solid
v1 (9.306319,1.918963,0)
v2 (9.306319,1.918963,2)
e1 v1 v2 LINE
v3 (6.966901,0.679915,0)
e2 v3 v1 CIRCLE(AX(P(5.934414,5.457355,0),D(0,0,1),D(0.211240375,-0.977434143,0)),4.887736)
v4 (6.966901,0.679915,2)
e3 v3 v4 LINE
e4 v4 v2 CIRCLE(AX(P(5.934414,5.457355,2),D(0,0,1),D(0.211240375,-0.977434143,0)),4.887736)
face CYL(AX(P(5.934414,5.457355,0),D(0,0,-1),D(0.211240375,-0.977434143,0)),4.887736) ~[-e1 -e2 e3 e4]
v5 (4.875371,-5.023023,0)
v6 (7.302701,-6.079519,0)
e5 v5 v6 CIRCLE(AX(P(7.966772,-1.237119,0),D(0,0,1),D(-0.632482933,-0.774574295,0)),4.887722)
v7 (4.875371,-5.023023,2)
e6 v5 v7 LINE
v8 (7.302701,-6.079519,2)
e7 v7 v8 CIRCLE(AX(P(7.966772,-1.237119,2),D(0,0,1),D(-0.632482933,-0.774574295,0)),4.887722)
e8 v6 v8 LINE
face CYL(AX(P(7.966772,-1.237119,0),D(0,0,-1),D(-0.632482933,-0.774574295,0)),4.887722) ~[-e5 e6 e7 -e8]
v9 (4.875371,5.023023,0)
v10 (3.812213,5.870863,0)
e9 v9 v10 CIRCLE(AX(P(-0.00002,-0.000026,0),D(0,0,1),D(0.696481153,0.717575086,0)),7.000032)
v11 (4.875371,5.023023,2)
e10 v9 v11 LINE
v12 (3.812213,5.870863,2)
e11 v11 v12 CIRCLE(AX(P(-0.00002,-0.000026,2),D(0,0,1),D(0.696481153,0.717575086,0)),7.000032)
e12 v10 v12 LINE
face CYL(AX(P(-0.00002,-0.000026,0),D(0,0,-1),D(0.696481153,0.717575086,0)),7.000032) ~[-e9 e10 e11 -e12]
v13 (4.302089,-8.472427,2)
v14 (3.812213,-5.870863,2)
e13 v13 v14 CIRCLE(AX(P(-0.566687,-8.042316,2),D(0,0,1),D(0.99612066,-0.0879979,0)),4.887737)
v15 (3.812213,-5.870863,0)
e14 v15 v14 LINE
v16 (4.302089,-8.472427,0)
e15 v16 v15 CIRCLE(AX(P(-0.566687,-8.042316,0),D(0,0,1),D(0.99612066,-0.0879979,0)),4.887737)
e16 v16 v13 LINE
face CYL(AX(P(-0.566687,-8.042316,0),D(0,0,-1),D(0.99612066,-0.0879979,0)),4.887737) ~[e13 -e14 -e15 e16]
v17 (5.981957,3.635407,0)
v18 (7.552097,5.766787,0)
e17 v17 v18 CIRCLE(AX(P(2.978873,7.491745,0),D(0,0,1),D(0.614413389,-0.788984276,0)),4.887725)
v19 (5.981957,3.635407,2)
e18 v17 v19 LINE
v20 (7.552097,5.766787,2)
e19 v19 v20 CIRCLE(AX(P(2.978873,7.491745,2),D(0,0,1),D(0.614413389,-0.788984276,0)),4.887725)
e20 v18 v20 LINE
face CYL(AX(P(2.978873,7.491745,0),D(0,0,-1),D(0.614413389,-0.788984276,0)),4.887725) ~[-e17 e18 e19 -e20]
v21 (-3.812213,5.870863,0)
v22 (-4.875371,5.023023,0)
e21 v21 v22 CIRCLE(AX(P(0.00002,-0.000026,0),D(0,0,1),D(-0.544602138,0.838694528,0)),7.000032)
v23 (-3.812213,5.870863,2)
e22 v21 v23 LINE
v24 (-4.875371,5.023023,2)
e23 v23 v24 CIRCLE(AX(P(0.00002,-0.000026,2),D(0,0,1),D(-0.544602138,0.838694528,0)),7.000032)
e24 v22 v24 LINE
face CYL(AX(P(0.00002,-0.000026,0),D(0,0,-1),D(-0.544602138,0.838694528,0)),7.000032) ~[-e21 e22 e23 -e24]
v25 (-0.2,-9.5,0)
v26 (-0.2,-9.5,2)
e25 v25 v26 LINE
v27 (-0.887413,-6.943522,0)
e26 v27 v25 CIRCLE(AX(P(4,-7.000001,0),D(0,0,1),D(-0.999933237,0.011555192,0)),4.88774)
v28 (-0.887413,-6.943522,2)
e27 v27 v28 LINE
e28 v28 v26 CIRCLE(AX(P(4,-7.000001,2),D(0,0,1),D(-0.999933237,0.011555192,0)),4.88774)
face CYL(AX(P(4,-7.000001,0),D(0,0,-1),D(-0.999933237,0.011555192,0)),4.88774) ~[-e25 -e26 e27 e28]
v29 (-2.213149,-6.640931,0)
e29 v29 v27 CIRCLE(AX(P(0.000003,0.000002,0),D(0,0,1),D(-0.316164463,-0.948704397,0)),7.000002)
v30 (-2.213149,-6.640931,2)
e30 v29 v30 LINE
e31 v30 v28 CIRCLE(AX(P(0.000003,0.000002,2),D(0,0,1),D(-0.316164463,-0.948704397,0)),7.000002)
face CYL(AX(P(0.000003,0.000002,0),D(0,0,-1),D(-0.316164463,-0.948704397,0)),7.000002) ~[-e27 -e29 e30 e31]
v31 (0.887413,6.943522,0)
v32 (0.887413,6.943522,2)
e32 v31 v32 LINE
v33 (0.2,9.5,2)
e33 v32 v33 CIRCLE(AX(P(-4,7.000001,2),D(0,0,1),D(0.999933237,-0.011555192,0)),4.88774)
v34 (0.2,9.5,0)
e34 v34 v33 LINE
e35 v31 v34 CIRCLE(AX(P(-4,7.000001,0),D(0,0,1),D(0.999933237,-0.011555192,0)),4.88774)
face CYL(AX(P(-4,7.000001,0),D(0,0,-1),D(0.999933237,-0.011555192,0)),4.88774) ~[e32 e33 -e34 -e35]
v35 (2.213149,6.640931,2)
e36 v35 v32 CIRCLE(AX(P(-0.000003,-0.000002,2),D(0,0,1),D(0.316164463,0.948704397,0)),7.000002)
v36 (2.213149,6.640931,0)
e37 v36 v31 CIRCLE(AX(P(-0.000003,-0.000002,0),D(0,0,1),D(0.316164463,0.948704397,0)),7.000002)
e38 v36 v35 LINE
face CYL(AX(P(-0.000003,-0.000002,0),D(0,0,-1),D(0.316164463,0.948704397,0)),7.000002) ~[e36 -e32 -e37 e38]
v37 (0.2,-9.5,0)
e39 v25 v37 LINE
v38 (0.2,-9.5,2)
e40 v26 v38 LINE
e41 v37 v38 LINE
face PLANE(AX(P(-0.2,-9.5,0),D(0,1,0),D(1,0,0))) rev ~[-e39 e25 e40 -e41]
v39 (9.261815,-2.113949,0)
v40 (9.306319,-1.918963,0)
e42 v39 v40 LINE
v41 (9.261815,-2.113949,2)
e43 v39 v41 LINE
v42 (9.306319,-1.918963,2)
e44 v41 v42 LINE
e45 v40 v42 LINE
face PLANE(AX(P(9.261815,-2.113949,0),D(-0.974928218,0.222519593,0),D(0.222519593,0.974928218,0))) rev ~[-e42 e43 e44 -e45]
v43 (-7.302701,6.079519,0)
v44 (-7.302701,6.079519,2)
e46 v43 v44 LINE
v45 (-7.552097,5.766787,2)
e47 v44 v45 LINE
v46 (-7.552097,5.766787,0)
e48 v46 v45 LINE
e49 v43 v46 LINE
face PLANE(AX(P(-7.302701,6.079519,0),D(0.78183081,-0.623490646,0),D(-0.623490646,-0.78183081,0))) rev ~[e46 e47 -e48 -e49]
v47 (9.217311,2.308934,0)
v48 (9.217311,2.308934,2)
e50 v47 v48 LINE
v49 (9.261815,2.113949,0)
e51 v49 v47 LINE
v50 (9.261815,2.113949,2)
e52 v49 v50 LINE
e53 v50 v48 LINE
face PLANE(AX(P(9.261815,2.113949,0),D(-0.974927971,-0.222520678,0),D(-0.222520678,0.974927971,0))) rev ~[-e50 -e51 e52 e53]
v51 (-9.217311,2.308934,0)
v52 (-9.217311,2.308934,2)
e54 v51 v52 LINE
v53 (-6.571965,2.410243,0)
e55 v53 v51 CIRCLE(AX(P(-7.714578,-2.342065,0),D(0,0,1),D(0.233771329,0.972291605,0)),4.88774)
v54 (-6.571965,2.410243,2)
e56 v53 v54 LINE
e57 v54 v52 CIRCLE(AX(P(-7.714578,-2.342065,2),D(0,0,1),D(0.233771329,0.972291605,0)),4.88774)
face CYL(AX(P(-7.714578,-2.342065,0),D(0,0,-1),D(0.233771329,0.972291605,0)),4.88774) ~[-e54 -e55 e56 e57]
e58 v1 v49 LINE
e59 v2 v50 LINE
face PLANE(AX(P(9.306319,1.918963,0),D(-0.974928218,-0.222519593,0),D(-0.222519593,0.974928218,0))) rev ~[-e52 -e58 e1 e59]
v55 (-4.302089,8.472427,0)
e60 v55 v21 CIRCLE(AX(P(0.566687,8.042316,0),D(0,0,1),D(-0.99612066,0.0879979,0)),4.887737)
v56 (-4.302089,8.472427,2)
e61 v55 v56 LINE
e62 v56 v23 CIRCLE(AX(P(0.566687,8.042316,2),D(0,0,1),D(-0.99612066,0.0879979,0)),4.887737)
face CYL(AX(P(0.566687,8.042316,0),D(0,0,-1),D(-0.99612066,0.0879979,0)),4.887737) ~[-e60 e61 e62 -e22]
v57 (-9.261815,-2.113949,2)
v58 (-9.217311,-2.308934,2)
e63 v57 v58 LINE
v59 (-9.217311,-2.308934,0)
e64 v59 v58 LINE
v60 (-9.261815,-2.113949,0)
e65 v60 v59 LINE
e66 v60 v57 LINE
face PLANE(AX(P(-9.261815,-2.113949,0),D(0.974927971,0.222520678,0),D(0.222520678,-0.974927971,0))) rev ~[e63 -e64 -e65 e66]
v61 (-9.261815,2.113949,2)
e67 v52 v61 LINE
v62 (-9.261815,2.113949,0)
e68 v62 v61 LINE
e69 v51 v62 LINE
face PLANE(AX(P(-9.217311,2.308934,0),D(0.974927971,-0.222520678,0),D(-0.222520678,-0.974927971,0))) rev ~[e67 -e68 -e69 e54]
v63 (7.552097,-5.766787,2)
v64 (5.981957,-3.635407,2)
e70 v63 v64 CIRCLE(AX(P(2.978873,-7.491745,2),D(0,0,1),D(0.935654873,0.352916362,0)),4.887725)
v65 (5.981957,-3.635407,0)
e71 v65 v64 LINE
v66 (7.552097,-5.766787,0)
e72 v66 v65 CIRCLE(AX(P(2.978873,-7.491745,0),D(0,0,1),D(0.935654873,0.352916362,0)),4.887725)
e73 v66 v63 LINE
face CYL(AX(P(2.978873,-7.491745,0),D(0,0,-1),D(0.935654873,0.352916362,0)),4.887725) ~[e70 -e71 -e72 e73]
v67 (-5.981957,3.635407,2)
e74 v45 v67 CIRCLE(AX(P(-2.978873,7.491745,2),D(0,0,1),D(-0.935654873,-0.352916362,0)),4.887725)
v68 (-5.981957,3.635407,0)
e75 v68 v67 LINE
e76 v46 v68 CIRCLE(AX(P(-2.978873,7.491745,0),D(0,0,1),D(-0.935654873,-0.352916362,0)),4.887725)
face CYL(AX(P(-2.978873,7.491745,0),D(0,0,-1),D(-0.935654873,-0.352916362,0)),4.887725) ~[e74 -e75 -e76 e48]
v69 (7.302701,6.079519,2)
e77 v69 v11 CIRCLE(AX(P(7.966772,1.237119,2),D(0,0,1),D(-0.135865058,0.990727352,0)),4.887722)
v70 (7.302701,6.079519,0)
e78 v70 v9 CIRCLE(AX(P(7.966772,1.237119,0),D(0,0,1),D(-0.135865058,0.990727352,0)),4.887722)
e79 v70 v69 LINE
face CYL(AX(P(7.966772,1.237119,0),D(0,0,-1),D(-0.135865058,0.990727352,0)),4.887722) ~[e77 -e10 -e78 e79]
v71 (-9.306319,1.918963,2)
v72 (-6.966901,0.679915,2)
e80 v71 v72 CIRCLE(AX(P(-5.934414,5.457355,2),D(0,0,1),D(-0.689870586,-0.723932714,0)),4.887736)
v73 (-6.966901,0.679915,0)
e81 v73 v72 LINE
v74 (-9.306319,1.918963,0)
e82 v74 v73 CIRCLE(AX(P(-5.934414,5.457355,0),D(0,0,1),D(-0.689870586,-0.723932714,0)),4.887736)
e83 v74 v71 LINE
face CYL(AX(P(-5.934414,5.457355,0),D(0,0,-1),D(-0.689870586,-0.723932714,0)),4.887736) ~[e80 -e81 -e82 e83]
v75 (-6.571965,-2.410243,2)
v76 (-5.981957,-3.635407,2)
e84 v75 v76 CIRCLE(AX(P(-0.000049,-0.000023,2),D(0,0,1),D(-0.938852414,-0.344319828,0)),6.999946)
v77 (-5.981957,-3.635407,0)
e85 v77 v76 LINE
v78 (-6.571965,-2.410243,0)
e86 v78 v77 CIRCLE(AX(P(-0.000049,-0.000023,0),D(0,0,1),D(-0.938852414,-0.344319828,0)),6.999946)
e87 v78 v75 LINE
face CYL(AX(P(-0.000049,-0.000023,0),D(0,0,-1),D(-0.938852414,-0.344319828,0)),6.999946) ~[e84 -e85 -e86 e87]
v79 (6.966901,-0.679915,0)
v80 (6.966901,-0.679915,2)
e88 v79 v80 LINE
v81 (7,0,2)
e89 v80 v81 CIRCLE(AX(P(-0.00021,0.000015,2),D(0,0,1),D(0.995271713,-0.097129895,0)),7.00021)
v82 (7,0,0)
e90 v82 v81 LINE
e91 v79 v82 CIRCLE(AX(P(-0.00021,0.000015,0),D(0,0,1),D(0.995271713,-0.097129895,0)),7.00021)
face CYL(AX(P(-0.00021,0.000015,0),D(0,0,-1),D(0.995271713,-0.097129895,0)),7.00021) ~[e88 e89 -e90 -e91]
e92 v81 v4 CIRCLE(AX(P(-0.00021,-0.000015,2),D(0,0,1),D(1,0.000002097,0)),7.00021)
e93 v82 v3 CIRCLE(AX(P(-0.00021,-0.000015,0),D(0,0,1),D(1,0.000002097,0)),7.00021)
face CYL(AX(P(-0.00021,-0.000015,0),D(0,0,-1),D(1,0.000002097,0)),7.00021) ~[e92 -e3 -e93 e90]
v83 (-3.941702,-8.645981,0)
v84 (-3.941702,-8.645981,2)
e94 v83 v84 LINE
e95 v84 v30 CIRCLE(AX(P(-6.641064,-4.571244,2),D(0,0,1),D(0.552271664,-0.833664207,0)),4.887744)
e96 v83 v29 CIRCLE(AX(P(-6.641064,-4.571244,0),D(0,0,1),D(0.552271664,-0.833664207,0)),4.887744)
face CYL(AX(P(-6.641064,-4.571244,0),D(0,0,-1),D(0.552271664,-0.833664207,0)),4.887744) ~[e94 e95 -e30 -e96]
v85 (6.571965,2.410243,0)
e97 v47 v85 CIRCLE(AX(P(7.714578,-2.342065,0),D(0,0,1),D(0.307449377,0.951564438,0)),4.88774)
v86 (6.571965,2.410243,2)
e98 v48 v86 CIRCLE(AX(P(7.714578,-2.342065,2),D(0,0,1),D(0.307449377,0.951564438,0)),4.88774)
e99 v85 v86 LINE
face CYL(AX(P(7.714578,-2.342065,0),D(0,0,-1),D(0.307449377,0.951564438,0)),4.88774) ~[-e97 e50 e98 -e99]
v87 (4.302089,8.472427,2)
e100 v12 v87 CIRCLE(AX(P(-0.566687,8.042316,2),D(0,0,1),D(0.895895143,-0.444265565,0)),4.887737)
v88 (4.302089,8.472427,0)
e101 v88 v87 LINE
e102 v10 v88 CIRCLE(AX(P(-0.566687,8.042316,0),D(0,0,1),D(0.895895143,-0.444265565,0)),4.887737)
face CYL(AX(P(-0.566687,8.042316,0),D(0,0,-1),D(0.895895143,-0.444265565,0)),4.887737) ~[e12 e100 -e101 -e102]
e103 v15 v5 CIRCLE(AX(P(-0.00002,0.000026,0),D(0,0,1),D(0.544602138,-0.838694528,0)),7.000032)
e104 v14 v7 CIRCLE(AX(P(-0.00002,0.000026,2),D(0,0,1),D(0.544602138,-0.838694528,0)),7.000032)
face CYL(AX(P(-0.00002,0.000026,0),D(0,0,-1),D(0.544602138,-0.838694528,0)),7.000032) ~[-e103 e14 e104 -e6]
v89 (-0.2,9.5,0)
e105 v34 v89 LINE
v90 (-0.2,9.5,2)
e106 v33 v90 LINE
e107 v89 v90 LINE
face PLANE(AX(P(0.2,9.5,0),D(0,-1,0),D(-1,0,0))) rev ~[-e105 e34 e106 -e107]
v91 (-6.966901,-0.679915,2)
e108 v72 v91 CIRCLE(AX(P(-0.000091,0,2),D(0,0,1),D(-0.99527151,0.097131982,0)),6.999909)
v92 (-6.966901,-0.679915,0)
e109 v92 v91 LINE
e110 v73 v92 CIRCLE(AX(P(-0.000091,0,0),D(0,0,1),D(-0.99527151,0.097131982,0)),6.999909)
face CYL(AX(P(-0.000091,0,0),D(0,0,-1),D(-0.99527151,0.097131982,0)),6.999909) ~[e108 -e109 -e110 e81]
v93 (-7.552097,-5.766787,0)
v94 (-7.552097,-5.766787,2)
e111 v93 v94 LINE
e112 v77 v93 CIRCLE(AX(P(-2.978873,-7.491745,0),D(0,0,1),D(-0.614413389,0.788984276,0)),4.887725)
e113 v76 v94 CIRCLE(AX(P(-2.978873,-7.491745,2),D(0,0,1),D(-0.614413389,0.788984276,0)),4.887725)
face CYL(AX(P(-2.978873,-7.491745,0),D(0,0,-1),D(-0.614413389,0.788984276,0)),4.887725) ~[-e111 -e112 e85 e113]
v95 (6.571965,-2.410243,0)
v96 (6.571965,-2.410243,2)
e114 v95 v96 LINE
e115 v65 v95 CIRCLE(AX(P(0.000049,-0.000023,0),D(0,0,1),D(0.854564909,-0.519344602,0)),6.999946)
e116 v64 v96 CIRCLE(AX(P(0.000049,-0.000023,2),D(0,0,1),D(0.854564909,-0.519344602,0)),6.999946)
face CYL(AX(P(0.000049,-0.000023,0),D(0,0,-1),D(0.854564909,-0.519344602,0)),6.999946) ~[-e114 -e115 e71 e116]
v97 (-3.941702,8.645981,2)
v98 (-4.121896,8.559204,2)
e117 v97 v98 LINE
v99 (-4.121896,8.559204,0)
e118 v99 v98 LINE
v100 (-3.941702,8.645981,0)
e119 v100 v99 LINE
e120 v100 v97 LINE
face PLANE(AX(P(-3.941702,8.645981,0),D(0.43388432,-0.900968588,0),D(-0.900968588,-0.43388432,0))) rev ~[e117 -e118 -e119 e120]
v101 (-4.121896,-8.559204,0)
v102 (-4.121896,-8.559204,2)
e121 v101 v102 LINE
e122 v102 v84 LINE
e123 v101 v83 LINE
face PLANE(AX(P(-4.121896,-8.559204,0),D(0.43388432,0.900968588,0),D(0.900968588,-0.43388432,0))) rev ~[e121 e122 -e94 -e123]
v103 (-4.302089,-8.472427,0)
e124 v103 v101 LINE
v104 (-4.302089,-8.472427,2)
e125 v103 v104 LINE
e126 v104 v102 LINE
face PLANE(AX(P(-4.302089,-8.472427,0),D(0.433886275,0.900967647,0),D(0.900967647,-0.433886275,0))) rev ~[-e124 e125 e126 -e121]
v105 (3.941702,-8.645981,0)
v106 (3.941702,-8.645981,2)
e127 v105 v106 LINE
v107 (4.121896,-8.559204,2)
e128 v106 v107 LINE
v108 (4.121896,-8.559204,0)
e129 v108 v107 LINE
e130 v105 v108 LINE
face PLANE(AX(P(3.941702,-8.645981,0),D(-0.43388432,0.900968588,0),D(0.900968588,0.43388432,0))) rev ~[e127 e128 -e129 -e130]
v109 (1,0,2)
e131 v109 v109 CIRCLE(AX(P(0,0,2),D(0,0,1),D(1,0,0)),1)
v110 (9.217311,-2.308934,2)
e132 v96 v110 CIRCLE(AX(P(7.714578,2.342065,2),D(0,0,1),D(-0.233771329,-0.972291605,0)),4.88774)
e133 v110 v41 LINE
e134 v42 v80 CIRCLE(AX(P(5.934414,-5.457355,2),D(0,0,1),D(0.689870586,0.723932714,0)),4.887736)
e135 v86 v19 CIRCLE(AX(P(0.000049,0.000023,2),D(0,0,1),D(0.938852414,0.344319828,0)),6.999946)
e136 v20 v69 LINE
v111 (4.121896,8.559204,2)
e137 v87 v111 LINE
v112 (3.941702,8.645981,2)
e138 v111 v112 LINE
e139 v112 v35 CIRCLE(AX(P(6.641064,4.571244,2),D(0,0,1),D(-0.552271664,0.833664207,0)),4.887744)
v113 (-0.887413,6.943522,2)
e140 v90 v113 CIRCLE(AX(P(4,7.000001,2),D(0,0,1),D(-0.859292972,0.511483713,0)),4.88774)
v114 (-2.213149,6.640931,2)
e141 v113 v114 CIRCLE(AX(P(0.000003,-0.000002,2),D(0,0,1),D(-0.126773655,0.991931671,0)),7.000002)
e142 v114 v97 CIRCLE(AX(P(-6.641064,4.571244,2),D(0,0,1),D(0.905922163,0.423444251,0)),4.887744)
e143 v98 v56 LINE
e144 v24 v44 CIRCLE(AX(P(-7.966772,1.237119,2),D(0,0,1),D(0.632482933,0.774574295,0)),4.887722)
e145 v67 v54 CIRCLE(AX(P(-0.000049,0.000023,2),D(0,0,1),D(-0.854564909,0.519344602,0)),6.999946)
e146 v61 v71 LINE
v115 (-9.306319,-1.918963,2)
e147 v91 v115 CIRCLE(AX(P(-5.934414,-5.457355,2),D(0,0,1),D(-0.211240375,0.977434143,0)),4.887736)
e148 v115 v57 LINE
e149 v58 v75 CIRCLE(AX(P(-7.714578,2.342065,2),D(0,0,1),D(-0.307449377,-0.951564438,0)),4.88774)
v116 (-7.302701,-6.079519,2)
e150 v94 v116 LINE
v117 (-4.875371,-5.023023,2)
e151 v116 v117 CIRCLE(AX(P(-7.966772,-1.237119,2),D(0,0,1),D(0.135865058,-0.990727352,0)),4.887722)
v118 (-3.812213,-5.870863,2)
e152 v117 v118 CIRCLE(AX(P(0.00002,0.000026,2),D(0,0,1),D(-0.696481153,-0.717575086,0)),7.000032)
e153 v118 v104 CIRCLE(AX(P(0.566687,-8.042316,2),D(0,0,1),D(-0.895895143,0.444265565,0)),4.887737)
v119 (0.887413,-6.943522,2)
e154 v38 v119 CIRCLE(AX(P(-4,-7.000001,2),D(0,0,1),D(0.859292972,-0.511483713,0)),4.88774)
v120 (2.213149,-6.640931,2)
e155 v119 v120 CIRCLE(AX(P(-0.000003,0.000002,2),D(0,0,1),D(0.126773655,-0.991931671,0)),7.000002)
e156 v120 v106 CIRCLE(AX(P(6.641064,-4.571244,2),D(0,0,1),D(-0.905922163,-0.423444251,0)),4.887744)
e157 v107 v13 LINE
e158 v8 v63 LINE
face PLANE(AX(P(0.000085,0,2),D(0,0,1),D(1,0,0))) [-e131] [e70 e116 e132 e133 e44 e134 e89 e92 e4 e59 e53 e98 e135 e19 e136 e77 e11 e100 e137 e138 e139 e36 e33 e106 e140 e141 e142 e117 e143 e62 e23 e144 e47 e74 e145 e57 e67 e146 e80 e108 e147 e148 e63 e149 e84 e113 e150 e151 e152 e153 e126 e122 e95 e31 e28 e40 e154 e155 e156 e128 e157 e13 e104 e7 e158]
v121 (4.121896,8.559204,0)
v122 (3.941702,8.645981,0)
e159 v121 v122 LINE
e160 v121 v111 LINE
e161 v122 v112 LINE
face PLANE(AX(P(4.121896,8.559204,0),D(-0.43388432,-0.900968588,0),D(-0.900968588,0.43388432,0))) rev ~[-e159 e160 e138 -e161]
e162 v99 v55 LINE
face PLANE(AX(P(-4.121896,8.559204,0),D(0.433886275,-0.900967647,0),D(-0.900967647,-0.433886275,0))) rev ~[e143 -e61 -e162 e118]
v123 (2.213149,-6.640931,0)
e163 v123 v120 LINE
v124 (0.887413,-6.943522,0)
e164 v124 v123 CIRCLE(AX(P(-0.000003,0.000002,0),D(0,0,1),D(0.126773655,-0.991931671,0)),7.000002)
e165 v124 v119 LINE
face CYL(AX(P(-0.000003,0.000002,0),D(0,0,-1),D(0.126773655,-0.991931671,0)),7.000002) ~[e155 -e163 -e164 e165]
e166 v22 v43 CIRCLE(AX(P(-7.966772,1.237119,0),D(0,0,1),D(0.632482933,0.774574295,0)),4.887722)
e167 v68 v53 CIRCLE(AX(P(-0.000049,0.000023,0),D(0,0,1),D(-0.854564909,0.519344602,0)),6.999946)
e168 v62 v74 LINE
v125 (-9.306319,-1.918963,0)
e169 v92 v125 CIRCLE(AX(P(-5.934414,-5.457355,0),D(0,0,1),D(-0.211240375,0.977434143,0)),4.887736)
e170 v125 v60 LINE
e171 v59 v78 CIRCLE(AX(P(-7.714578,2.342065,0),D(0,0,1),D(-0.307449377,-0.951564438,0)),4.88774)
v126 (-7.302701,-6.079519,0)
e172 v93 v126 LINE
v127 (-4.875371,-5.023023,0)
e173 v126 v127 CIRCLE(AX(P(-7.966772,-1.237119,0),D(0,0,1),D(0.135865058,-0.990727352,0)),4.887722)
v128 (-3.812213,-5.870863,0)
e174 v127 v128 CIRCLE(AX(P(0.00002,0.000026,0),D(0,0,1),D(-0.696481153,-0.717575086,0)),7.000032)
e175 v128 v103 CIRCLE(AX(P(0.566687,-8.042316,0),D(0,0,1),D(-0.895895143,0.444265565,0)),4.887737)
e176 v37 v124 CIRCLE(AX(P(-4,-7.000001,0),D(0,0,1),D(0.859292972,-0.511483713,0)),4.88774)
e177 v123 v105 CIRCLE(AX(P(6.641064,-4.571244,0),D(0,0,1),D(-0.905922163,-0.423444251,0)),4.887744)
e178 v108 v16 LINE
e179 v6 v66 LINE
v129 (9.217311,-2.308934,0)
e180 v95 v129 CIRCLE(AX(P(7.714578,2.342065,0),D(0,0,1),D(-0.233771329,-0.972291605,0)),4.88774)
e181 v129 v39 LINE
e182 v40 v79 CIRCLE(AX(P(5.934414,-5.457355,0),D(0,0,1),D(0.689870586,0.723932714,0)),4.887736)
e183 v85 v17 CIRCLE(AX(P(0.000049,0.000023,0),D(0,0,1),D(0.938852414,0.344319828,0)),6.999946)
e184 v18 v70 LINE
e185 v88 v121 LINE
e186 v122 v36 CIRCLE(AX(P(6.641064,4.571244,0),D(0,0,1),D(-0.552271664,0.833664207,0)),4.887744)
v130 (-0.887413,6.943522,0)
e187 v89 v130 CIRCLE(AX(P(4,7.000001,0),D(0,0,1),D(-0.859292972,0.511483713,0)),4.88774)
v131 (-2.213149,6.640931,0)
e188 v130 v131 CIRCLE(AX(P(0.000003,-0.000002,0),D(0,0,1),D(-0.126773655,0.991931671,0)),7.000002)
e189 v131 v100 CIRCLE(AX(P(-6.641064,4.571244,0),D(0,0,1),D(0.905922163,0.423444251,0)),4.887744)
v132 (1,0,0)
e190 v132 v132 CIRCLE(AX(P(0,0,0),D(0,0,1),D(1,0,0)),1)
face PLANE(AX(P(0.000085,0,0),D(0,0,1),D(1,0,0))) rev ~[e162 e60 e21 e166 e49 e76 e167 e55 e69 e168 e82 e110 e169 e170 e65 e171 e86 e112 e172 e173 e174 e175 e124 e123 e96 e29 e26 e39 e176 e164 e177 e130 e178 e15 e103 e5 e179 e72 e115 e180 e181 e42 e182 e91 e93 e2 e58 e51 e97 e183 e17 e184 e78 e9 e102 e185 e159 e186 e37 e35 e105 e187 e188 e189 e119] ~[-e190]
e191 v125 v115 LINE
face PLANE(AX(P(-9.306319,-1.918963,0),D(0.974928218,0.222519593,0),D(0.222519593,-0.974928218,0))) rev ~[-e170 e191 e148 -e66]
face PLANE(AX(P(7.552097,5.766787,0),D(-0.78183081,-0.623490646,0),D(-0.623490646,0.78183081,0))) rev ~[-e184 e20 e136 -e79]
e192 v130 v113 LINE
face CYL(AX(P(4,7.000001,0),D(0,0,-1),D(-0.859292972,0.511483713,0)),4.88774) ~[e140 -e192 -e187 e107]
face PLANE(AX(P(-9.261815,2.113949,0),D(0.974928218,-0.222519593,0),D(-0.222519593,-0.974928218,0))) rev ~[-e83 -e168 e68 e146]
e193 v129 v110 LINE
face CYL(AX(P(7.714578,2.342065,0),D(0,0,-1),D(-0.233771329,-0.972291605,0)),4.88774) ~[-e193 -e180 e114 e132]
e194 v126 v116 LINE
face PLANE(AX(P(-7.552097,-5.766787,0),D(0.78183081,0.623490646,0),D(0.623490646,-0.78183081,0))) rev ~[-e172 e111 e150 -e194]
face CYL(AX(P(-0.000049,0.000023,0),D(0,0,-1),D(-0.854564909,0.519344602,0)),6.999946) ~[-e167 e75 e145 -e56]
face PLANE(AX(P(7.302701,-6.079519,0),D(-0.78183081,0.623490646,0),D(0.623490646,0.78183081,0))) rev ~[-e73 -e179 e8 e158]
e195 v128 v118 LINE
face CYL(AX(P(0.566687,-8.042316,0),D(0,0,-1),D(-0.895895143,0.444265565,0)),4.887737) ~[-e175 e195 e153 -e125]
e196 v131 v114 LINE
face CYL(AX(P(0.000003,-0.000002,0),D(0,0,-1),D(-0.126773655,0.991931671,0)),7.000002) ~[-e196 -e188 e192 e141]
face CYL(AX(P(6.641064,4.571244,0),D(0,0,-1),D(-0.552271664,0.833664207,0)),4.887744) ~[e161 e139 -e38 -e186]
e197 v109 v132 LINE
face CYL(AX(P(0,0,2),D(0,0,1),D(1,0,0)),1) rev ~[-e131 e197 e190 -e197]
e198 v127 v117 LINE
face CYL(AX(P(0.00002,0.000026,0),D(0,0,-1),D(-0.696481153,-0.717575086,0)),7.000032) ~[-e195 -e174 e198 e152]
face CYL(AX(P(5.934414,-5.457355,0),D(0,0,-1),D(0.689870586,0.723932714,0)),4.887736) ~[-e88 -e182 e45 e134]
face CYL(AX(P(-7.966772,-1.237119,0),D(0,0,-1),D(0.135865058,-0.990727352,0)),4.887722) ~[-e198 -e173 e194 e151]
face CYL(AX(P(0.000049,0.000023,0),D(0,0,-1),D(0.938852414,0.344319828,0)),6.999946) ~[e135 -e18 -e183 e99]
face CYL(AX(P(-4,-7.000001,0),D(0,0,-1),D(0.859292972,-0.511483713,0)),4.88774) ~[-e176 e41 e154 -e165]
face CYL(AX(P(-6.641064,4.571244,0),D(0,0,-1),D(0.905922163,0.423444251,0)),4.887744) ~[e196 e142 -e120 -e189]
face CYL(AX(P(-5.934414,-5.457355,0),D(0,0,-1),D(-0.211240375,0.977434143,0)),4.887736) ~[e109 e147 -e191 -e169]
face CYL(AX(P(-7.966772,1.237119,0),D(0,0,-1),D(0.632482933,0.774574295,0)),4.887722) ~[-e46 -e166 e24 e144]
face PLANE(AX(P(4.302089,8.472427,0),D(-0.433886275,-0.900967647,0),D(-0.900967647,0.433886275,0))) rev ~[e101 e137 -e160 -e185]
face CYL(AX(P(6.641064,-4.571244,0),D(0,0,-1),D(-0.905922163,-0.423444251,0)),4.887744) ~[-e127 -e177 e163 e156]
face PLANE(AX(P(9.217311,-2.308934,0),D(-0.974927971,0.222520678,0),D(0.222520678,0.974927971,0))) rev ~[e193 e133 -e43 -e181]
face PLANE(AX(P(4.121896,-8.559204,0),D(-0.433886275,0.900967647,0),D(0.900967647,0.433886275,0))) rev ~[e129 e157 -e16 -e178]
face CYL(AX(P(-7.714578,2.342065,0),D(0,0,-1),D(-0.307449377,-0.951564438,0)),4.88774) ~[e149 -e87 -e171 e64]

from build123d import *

# Parameters (mm, degrees)
F1_DEPTH = 2
F2_R     = 1
F3_DEPTH = 25


with BuildPart() as f1:
    # F0 (on Top) → F1 (new body)
    with BuildSketch(Plane.XY):
        with BuildLine():
            ThreePointArc((6.966901, -0.679915), (6.99172, -0.34036), (7, 0))
            ThreePointArc((7, 0), (6.99172, 0.34036), (6.966901, 0.679915))
            ThreePointArc((6.966901, 0.679915), (6.824495, 1.557647), (6.571965, 2.410243))
            ThreePointArc((6.571965, 2.410243), (6.306782, 3.037186), (5.981957, 3.635407))
            ThreePointArc((5.981957, 3.635407), (5.47282, 4.364429), (4.875371, 5.023023))
            ThreePointArc((4.875371, 5.023023), (4.364429, 5.47282), (3.812213, 5.870863))
            ThreePointArc((3.812213, 5.870863), (3.037186, 6.306782), (2.213149, 6.640931))
            ThreePointArc((2.213149, 6.640931), (1.557647, 6.824495), (0.887413, 6.943522))
            ThreePointArc((0.887413, 6.943522), (0, 7), (-0.887413, 6.943522))
            ThreePointArc((-0.887413, 6.943522), (-1.557647, 6.824495), (-2.213149, 6.640931))
            ThreePointArc((-2.213149, 6.640931), (-3.037186, 6.306782), (-3.812213, 5.870863))
            ThreePointArc((-3.812213, 5.870863), (-4.364429, 5.47282), (-4.875371, 5.023023))
            ThreePointArc((-4.875371, 5.023023), (-5.47282, 4.364429), (-5.981957, 3.635407))
            ThreePointArc((-5.981957, 3.635407), (-6.306782, 3.037186), (-6.571965, 2.410243))
            ThreePointArc((-6.571965, 2.410243), (-6.824495, 1.557647), (-6.966901, 0.679915))
            ThreePointArc((-6.966901, 0.679915), (-7, 0), (-6.966901, -0.679915))
            ThreePointArc((-6.966901, -0.679915), (-6.824495, -1.557647), (-6.571965, -2.410243))
            ThreePointArc((-6.571965, -2.410243), (-6.306782, -3.037186), (-5.981957, -3.635407))
            ThreePointArc((-5.981957, -3.635407), (-5.47282, -4.364429), (-4.875371, -5.023023))
            ThreePointArc((-4.875371, -5.023023), (-4.364429, -5.47282), (-3.812213, -5.870863))
            ThreePointArc((-3.812213, -5.870863), (-3.037186, -6.306782), (-2.213149, -6.640931))
            ThreePointArc((-2.213149, -6.640931), (-1.557647, -6.824495), (-0.887413, -6.943522))
            ThreePointArc((-0.887413, -6.943522), (0, -7), (0.887413, -6.943522))
            ThreePointArc((0.887413, -6.943522), (1.557647, -6.824495), (2.213149, -6.640931))
            ThreePointArc((2.213149, -6.640931), (3.037186, -6.306782), (3.812213, -5.870863))
            ThreePointArc((3.812213, -5.870863), (4.364429, -5.47282), (4.875371, -5.023023))
            ThreePointArc((4.875371, -5.023023), (5.47282, -4.364429), (5.981957, -3.635407))
            ThreePointArc((5.981957, -3.635407), (6.306782, -3.037186), (6.571965, -2.410243))
            ThreePointArc((6.571965, -2.410243), (6.824495, -1.557647), (6.966901, -0.679915))
        make_face()
        with BuildLine():
            ThreePointArc((6.571965, 2.410243), (6.824495, 1.557647), (6.966901, 0.679915))
            ThreePointArc((6.966901, 0.679915), (8.222094, 1.13804), (9.306319, 1.918963))
            Line((9.306319, 1.918963), (9.261815, 2.113949))
            Line((9.261815, 2.113949), (9.217311, 2.308934))
            ThreePointArc((9.217311, 2.308934), (7.901628, 2.542094), (6.571965, 2.410243))
        make_face()
        with BuildLine():
            ThreePointArc((9.306319, -1.918963), (8.222094, -1.13804), (6.966901, -0.679915))
            ThreePointArc((6.966901, -0.679915), (6.824495, -1.557647), (6.571965, -2.410243))
            ThreePointArc((6.571965, -2.410243), (7.901628, -2.542094), (9.217311, -2.308934))
            Line((9.217311, -2.308934), (9.261815, -2.113949))
            Line((9.261815, -2.113949), (9.306319, -1.918963))
        make_face()
        with BuildLine():
            ThreePointArc((4.875371, 5.023023), (5.47282, 4.364429), (5.981957, 3.635407))
            ThreePointArc((5.981957, 3.635407), (6.914074, 4.592771), (7.552097, 5.766787))
            Line((7.552097, 5.766787), (7.427399, 5.923153))
            Line((7.427399, 5.923153), (7.302701, 6.079519))
            ThreePointArc((7.302701, 6.079519), (6.016147, 5.718736), (4.875371, 5.023023))
        make_face()
        with BuildLine():
            ThreePointArc((7.552097, -5.766787), (6.914074, -4.592771), (5.981957, -3.635407))
            ThreePointArc((5.981957, -3.635407), (5.47282, -4.364429), (4.875371, -5.023023))
            ThreePointArc((4.875371, -5.023023), (6.016147, -5.718736), (7.302701, -6.079519))
            Line((7.302701, -6.079519), (7.427399, -5.923153))
            Line((7.427399, -5.923153), (7.552097, -5.766787))
        make_face()
        with BuildLine():
            ThreePointArc((2.213149, 6.640931), (3.037186, 6.306782), (3.812213, 5.870863))
            ThreePointArc((3.812213, 5.870863), (4.236636, 7.137848), (4.302089, 8.472427))
            Line((4.302089, 8.472427), (4.121896, 8.559204))
            Line((4.121896, 8.559204), (3.941702, 8.645981))
            ThreePointArc((3.941702, 8.645981), (2.939095, 7.762711), (2.213149, 6.640931))
        make_face()
        with BuildLine():
            ThreePointArc((4.302089, -8.472427), (4.236636, -7.137848), (3.812213, -5.870863))
            ThreePointArc((3.812213, -5.870863), (3.037186, -6.306782), (2.213149, -6.640931))
            ThreePointArc((2.213149, -6.640931), (2.939095, -7.762711), (3.941702, -8.645981))
            Line((3.941702, -8.645981), (4.121896, -8.559204))
            Line((4.121896, -8.559204), (4.302089, -8.472427))
        make_face()
        with BuildLine():
            ThreePointArc((-0.887413, 6.943522), (0, 7), (0.887413, 6.943522))
            ThreePointArc((0.887413, 6.943522), (0.720081, 8.269186), (0.2, 9.5))
            Line((0.2, 9.5), (0, 9.5))
            Line((0, 9.5), (-0.2, 9.5))
            ThreePointArc((-0.2, 9.5), (-0.720081, 8.269186), (-0.887413, 6.943522))
        make_face()
        with BuildLine():
            ThreePointArc((0.2, -9.5), (0.720081, -8.269186), (0.887413, -6.943522))
            ThreePointArc((0.887413, -6.943522), (0, -7), (-0.887413, -6.943522))
            ThreePointArc((-0.887413, -6.943522), (-0.720081, -8.269186), (-0.2, -9.5))
            Line((-0.2, -9.5), (0, -9.5))
            Line((0, -9.5), (0.2, -9.5))
        make_face()
        with BuildLine():
            ThreePointArc((-3.812213, 5.870863), (-3.037186, 6.306782), (-2.213149, 6.640931))
            ThreePointArc((-2.213149, 6.640931), (-2.939095, 7.762711), (-3.941702, 8.645981))
            Line((-3.941702, 8.645981), (-4.121896, 8.559204))
            Line((-4.121896, 8.559204), (-4.302089, 8.472427))
            ThreePointArc((-4.302089, 8.472427), (-4.236636, 7.137848), (-3.812213, 5.870863))
        make_face()
        with BuildLine():
            ThreePointArc((-3.941702, -8.645981), (-2.939095, -7.762711), (-2.213149, -6.640931))
            ThreePointArc((-2.213149, -6.640931), (-3.037186, -6.306782), (-3.812213, -5.870863))
            ThreePointArc((-3.812213, -5.870863), (-4.236636, -7.137848), (-4.302089, -8.472427))
            Line((-4.302089, -8.472427), (-4.121896, -8.559204))
            Line((-4.121896, -8.559204), (-3.941702, -8.645981))
        make_face()
        with BuildLine():
            ThreePointArc((-5.981957, 3.635407), (-5.47282, 4.364429), (-4.875371, 5.023023))
            ThreePointArc((-4.875371, 5.023023), (-6.016147, 5.718736), (-7.302701, 6.079519))
            Line((-7.302701, 6.079519), (-7.427399, 5.923153))
            Line((-7.427399, 5.923153), (-7.552097, 5.766787))
            ThreePointArc((-7.552097, 5.766787), (-6.914074, 4.592771), (-5.981957, 3.635407))
        make_face()
        with BuildLine():
            ThreePointArc((-7.302701, -6.079519), (-6.016147, -5.718736), (-4.875371, -5.023023))
            ThreePointArc((-4.875371, -5.023023), (-5.47282, -4.364429), (-5.981957, -3.635407))
            ThreePointArc((-5.981957, -3.635407), (-6.914074, -4.592771), (-7.552097, -5.766787))
            Line((-7.552097, -5.766787), (-7.427399, -5.923153))
            Line((-7.427399, -5.923153), (-7.302701, -6.079519))
        make_face()
        with BuildLine():
            ThreePointArc((-6.966901, 0.679915), (-6.824495, 1.557647), (-6.571965, 2.410243))
            ThreePointArc((-6.571965, 2.410243), (-7.901628, 2.542094), (-9.217311, 2.308934))
            Line((-9.217311, 2.308934), (-9.261815, 2.113949))
            Line((-9.261815, 2.113949), (-9.306319, 1.918963))
            ThreePointArc((-9.306319, 1.918963), (-8.222094, 1.13804), (-6.966901, 0.679915))
        make_face()
        with BuildLine():
            ThreePointArc((-9.217311, -2.308934), (-7.901628, -2.542094), (-6.571965, -2.410243))
            ThreePointArc((-6.571965, -2.410243), (-6.824495, -1.557647), (-6.966901, -0.679915))
            ThreePointArc((-6.966901, -0.679915), (-8.222094, -1.13804), (-9.306319, -1.918963))
            Line((-9.306319, -1.918963), (-9.261815, -2.113949))
            Line((-9.261815, -2.113949), (-9.217311, -2.308934))
        make_face()
    extrude(amount=F1_DEPTH)

    # F2 (on face) → F3 (cut)
    with BuildSketch(Plane.XY.offset(2)):
        Circle(F2_R)
    extrude(amount=-F3_DEPTH, mode=Mode.SUBTRACT)


solid = f1.part
